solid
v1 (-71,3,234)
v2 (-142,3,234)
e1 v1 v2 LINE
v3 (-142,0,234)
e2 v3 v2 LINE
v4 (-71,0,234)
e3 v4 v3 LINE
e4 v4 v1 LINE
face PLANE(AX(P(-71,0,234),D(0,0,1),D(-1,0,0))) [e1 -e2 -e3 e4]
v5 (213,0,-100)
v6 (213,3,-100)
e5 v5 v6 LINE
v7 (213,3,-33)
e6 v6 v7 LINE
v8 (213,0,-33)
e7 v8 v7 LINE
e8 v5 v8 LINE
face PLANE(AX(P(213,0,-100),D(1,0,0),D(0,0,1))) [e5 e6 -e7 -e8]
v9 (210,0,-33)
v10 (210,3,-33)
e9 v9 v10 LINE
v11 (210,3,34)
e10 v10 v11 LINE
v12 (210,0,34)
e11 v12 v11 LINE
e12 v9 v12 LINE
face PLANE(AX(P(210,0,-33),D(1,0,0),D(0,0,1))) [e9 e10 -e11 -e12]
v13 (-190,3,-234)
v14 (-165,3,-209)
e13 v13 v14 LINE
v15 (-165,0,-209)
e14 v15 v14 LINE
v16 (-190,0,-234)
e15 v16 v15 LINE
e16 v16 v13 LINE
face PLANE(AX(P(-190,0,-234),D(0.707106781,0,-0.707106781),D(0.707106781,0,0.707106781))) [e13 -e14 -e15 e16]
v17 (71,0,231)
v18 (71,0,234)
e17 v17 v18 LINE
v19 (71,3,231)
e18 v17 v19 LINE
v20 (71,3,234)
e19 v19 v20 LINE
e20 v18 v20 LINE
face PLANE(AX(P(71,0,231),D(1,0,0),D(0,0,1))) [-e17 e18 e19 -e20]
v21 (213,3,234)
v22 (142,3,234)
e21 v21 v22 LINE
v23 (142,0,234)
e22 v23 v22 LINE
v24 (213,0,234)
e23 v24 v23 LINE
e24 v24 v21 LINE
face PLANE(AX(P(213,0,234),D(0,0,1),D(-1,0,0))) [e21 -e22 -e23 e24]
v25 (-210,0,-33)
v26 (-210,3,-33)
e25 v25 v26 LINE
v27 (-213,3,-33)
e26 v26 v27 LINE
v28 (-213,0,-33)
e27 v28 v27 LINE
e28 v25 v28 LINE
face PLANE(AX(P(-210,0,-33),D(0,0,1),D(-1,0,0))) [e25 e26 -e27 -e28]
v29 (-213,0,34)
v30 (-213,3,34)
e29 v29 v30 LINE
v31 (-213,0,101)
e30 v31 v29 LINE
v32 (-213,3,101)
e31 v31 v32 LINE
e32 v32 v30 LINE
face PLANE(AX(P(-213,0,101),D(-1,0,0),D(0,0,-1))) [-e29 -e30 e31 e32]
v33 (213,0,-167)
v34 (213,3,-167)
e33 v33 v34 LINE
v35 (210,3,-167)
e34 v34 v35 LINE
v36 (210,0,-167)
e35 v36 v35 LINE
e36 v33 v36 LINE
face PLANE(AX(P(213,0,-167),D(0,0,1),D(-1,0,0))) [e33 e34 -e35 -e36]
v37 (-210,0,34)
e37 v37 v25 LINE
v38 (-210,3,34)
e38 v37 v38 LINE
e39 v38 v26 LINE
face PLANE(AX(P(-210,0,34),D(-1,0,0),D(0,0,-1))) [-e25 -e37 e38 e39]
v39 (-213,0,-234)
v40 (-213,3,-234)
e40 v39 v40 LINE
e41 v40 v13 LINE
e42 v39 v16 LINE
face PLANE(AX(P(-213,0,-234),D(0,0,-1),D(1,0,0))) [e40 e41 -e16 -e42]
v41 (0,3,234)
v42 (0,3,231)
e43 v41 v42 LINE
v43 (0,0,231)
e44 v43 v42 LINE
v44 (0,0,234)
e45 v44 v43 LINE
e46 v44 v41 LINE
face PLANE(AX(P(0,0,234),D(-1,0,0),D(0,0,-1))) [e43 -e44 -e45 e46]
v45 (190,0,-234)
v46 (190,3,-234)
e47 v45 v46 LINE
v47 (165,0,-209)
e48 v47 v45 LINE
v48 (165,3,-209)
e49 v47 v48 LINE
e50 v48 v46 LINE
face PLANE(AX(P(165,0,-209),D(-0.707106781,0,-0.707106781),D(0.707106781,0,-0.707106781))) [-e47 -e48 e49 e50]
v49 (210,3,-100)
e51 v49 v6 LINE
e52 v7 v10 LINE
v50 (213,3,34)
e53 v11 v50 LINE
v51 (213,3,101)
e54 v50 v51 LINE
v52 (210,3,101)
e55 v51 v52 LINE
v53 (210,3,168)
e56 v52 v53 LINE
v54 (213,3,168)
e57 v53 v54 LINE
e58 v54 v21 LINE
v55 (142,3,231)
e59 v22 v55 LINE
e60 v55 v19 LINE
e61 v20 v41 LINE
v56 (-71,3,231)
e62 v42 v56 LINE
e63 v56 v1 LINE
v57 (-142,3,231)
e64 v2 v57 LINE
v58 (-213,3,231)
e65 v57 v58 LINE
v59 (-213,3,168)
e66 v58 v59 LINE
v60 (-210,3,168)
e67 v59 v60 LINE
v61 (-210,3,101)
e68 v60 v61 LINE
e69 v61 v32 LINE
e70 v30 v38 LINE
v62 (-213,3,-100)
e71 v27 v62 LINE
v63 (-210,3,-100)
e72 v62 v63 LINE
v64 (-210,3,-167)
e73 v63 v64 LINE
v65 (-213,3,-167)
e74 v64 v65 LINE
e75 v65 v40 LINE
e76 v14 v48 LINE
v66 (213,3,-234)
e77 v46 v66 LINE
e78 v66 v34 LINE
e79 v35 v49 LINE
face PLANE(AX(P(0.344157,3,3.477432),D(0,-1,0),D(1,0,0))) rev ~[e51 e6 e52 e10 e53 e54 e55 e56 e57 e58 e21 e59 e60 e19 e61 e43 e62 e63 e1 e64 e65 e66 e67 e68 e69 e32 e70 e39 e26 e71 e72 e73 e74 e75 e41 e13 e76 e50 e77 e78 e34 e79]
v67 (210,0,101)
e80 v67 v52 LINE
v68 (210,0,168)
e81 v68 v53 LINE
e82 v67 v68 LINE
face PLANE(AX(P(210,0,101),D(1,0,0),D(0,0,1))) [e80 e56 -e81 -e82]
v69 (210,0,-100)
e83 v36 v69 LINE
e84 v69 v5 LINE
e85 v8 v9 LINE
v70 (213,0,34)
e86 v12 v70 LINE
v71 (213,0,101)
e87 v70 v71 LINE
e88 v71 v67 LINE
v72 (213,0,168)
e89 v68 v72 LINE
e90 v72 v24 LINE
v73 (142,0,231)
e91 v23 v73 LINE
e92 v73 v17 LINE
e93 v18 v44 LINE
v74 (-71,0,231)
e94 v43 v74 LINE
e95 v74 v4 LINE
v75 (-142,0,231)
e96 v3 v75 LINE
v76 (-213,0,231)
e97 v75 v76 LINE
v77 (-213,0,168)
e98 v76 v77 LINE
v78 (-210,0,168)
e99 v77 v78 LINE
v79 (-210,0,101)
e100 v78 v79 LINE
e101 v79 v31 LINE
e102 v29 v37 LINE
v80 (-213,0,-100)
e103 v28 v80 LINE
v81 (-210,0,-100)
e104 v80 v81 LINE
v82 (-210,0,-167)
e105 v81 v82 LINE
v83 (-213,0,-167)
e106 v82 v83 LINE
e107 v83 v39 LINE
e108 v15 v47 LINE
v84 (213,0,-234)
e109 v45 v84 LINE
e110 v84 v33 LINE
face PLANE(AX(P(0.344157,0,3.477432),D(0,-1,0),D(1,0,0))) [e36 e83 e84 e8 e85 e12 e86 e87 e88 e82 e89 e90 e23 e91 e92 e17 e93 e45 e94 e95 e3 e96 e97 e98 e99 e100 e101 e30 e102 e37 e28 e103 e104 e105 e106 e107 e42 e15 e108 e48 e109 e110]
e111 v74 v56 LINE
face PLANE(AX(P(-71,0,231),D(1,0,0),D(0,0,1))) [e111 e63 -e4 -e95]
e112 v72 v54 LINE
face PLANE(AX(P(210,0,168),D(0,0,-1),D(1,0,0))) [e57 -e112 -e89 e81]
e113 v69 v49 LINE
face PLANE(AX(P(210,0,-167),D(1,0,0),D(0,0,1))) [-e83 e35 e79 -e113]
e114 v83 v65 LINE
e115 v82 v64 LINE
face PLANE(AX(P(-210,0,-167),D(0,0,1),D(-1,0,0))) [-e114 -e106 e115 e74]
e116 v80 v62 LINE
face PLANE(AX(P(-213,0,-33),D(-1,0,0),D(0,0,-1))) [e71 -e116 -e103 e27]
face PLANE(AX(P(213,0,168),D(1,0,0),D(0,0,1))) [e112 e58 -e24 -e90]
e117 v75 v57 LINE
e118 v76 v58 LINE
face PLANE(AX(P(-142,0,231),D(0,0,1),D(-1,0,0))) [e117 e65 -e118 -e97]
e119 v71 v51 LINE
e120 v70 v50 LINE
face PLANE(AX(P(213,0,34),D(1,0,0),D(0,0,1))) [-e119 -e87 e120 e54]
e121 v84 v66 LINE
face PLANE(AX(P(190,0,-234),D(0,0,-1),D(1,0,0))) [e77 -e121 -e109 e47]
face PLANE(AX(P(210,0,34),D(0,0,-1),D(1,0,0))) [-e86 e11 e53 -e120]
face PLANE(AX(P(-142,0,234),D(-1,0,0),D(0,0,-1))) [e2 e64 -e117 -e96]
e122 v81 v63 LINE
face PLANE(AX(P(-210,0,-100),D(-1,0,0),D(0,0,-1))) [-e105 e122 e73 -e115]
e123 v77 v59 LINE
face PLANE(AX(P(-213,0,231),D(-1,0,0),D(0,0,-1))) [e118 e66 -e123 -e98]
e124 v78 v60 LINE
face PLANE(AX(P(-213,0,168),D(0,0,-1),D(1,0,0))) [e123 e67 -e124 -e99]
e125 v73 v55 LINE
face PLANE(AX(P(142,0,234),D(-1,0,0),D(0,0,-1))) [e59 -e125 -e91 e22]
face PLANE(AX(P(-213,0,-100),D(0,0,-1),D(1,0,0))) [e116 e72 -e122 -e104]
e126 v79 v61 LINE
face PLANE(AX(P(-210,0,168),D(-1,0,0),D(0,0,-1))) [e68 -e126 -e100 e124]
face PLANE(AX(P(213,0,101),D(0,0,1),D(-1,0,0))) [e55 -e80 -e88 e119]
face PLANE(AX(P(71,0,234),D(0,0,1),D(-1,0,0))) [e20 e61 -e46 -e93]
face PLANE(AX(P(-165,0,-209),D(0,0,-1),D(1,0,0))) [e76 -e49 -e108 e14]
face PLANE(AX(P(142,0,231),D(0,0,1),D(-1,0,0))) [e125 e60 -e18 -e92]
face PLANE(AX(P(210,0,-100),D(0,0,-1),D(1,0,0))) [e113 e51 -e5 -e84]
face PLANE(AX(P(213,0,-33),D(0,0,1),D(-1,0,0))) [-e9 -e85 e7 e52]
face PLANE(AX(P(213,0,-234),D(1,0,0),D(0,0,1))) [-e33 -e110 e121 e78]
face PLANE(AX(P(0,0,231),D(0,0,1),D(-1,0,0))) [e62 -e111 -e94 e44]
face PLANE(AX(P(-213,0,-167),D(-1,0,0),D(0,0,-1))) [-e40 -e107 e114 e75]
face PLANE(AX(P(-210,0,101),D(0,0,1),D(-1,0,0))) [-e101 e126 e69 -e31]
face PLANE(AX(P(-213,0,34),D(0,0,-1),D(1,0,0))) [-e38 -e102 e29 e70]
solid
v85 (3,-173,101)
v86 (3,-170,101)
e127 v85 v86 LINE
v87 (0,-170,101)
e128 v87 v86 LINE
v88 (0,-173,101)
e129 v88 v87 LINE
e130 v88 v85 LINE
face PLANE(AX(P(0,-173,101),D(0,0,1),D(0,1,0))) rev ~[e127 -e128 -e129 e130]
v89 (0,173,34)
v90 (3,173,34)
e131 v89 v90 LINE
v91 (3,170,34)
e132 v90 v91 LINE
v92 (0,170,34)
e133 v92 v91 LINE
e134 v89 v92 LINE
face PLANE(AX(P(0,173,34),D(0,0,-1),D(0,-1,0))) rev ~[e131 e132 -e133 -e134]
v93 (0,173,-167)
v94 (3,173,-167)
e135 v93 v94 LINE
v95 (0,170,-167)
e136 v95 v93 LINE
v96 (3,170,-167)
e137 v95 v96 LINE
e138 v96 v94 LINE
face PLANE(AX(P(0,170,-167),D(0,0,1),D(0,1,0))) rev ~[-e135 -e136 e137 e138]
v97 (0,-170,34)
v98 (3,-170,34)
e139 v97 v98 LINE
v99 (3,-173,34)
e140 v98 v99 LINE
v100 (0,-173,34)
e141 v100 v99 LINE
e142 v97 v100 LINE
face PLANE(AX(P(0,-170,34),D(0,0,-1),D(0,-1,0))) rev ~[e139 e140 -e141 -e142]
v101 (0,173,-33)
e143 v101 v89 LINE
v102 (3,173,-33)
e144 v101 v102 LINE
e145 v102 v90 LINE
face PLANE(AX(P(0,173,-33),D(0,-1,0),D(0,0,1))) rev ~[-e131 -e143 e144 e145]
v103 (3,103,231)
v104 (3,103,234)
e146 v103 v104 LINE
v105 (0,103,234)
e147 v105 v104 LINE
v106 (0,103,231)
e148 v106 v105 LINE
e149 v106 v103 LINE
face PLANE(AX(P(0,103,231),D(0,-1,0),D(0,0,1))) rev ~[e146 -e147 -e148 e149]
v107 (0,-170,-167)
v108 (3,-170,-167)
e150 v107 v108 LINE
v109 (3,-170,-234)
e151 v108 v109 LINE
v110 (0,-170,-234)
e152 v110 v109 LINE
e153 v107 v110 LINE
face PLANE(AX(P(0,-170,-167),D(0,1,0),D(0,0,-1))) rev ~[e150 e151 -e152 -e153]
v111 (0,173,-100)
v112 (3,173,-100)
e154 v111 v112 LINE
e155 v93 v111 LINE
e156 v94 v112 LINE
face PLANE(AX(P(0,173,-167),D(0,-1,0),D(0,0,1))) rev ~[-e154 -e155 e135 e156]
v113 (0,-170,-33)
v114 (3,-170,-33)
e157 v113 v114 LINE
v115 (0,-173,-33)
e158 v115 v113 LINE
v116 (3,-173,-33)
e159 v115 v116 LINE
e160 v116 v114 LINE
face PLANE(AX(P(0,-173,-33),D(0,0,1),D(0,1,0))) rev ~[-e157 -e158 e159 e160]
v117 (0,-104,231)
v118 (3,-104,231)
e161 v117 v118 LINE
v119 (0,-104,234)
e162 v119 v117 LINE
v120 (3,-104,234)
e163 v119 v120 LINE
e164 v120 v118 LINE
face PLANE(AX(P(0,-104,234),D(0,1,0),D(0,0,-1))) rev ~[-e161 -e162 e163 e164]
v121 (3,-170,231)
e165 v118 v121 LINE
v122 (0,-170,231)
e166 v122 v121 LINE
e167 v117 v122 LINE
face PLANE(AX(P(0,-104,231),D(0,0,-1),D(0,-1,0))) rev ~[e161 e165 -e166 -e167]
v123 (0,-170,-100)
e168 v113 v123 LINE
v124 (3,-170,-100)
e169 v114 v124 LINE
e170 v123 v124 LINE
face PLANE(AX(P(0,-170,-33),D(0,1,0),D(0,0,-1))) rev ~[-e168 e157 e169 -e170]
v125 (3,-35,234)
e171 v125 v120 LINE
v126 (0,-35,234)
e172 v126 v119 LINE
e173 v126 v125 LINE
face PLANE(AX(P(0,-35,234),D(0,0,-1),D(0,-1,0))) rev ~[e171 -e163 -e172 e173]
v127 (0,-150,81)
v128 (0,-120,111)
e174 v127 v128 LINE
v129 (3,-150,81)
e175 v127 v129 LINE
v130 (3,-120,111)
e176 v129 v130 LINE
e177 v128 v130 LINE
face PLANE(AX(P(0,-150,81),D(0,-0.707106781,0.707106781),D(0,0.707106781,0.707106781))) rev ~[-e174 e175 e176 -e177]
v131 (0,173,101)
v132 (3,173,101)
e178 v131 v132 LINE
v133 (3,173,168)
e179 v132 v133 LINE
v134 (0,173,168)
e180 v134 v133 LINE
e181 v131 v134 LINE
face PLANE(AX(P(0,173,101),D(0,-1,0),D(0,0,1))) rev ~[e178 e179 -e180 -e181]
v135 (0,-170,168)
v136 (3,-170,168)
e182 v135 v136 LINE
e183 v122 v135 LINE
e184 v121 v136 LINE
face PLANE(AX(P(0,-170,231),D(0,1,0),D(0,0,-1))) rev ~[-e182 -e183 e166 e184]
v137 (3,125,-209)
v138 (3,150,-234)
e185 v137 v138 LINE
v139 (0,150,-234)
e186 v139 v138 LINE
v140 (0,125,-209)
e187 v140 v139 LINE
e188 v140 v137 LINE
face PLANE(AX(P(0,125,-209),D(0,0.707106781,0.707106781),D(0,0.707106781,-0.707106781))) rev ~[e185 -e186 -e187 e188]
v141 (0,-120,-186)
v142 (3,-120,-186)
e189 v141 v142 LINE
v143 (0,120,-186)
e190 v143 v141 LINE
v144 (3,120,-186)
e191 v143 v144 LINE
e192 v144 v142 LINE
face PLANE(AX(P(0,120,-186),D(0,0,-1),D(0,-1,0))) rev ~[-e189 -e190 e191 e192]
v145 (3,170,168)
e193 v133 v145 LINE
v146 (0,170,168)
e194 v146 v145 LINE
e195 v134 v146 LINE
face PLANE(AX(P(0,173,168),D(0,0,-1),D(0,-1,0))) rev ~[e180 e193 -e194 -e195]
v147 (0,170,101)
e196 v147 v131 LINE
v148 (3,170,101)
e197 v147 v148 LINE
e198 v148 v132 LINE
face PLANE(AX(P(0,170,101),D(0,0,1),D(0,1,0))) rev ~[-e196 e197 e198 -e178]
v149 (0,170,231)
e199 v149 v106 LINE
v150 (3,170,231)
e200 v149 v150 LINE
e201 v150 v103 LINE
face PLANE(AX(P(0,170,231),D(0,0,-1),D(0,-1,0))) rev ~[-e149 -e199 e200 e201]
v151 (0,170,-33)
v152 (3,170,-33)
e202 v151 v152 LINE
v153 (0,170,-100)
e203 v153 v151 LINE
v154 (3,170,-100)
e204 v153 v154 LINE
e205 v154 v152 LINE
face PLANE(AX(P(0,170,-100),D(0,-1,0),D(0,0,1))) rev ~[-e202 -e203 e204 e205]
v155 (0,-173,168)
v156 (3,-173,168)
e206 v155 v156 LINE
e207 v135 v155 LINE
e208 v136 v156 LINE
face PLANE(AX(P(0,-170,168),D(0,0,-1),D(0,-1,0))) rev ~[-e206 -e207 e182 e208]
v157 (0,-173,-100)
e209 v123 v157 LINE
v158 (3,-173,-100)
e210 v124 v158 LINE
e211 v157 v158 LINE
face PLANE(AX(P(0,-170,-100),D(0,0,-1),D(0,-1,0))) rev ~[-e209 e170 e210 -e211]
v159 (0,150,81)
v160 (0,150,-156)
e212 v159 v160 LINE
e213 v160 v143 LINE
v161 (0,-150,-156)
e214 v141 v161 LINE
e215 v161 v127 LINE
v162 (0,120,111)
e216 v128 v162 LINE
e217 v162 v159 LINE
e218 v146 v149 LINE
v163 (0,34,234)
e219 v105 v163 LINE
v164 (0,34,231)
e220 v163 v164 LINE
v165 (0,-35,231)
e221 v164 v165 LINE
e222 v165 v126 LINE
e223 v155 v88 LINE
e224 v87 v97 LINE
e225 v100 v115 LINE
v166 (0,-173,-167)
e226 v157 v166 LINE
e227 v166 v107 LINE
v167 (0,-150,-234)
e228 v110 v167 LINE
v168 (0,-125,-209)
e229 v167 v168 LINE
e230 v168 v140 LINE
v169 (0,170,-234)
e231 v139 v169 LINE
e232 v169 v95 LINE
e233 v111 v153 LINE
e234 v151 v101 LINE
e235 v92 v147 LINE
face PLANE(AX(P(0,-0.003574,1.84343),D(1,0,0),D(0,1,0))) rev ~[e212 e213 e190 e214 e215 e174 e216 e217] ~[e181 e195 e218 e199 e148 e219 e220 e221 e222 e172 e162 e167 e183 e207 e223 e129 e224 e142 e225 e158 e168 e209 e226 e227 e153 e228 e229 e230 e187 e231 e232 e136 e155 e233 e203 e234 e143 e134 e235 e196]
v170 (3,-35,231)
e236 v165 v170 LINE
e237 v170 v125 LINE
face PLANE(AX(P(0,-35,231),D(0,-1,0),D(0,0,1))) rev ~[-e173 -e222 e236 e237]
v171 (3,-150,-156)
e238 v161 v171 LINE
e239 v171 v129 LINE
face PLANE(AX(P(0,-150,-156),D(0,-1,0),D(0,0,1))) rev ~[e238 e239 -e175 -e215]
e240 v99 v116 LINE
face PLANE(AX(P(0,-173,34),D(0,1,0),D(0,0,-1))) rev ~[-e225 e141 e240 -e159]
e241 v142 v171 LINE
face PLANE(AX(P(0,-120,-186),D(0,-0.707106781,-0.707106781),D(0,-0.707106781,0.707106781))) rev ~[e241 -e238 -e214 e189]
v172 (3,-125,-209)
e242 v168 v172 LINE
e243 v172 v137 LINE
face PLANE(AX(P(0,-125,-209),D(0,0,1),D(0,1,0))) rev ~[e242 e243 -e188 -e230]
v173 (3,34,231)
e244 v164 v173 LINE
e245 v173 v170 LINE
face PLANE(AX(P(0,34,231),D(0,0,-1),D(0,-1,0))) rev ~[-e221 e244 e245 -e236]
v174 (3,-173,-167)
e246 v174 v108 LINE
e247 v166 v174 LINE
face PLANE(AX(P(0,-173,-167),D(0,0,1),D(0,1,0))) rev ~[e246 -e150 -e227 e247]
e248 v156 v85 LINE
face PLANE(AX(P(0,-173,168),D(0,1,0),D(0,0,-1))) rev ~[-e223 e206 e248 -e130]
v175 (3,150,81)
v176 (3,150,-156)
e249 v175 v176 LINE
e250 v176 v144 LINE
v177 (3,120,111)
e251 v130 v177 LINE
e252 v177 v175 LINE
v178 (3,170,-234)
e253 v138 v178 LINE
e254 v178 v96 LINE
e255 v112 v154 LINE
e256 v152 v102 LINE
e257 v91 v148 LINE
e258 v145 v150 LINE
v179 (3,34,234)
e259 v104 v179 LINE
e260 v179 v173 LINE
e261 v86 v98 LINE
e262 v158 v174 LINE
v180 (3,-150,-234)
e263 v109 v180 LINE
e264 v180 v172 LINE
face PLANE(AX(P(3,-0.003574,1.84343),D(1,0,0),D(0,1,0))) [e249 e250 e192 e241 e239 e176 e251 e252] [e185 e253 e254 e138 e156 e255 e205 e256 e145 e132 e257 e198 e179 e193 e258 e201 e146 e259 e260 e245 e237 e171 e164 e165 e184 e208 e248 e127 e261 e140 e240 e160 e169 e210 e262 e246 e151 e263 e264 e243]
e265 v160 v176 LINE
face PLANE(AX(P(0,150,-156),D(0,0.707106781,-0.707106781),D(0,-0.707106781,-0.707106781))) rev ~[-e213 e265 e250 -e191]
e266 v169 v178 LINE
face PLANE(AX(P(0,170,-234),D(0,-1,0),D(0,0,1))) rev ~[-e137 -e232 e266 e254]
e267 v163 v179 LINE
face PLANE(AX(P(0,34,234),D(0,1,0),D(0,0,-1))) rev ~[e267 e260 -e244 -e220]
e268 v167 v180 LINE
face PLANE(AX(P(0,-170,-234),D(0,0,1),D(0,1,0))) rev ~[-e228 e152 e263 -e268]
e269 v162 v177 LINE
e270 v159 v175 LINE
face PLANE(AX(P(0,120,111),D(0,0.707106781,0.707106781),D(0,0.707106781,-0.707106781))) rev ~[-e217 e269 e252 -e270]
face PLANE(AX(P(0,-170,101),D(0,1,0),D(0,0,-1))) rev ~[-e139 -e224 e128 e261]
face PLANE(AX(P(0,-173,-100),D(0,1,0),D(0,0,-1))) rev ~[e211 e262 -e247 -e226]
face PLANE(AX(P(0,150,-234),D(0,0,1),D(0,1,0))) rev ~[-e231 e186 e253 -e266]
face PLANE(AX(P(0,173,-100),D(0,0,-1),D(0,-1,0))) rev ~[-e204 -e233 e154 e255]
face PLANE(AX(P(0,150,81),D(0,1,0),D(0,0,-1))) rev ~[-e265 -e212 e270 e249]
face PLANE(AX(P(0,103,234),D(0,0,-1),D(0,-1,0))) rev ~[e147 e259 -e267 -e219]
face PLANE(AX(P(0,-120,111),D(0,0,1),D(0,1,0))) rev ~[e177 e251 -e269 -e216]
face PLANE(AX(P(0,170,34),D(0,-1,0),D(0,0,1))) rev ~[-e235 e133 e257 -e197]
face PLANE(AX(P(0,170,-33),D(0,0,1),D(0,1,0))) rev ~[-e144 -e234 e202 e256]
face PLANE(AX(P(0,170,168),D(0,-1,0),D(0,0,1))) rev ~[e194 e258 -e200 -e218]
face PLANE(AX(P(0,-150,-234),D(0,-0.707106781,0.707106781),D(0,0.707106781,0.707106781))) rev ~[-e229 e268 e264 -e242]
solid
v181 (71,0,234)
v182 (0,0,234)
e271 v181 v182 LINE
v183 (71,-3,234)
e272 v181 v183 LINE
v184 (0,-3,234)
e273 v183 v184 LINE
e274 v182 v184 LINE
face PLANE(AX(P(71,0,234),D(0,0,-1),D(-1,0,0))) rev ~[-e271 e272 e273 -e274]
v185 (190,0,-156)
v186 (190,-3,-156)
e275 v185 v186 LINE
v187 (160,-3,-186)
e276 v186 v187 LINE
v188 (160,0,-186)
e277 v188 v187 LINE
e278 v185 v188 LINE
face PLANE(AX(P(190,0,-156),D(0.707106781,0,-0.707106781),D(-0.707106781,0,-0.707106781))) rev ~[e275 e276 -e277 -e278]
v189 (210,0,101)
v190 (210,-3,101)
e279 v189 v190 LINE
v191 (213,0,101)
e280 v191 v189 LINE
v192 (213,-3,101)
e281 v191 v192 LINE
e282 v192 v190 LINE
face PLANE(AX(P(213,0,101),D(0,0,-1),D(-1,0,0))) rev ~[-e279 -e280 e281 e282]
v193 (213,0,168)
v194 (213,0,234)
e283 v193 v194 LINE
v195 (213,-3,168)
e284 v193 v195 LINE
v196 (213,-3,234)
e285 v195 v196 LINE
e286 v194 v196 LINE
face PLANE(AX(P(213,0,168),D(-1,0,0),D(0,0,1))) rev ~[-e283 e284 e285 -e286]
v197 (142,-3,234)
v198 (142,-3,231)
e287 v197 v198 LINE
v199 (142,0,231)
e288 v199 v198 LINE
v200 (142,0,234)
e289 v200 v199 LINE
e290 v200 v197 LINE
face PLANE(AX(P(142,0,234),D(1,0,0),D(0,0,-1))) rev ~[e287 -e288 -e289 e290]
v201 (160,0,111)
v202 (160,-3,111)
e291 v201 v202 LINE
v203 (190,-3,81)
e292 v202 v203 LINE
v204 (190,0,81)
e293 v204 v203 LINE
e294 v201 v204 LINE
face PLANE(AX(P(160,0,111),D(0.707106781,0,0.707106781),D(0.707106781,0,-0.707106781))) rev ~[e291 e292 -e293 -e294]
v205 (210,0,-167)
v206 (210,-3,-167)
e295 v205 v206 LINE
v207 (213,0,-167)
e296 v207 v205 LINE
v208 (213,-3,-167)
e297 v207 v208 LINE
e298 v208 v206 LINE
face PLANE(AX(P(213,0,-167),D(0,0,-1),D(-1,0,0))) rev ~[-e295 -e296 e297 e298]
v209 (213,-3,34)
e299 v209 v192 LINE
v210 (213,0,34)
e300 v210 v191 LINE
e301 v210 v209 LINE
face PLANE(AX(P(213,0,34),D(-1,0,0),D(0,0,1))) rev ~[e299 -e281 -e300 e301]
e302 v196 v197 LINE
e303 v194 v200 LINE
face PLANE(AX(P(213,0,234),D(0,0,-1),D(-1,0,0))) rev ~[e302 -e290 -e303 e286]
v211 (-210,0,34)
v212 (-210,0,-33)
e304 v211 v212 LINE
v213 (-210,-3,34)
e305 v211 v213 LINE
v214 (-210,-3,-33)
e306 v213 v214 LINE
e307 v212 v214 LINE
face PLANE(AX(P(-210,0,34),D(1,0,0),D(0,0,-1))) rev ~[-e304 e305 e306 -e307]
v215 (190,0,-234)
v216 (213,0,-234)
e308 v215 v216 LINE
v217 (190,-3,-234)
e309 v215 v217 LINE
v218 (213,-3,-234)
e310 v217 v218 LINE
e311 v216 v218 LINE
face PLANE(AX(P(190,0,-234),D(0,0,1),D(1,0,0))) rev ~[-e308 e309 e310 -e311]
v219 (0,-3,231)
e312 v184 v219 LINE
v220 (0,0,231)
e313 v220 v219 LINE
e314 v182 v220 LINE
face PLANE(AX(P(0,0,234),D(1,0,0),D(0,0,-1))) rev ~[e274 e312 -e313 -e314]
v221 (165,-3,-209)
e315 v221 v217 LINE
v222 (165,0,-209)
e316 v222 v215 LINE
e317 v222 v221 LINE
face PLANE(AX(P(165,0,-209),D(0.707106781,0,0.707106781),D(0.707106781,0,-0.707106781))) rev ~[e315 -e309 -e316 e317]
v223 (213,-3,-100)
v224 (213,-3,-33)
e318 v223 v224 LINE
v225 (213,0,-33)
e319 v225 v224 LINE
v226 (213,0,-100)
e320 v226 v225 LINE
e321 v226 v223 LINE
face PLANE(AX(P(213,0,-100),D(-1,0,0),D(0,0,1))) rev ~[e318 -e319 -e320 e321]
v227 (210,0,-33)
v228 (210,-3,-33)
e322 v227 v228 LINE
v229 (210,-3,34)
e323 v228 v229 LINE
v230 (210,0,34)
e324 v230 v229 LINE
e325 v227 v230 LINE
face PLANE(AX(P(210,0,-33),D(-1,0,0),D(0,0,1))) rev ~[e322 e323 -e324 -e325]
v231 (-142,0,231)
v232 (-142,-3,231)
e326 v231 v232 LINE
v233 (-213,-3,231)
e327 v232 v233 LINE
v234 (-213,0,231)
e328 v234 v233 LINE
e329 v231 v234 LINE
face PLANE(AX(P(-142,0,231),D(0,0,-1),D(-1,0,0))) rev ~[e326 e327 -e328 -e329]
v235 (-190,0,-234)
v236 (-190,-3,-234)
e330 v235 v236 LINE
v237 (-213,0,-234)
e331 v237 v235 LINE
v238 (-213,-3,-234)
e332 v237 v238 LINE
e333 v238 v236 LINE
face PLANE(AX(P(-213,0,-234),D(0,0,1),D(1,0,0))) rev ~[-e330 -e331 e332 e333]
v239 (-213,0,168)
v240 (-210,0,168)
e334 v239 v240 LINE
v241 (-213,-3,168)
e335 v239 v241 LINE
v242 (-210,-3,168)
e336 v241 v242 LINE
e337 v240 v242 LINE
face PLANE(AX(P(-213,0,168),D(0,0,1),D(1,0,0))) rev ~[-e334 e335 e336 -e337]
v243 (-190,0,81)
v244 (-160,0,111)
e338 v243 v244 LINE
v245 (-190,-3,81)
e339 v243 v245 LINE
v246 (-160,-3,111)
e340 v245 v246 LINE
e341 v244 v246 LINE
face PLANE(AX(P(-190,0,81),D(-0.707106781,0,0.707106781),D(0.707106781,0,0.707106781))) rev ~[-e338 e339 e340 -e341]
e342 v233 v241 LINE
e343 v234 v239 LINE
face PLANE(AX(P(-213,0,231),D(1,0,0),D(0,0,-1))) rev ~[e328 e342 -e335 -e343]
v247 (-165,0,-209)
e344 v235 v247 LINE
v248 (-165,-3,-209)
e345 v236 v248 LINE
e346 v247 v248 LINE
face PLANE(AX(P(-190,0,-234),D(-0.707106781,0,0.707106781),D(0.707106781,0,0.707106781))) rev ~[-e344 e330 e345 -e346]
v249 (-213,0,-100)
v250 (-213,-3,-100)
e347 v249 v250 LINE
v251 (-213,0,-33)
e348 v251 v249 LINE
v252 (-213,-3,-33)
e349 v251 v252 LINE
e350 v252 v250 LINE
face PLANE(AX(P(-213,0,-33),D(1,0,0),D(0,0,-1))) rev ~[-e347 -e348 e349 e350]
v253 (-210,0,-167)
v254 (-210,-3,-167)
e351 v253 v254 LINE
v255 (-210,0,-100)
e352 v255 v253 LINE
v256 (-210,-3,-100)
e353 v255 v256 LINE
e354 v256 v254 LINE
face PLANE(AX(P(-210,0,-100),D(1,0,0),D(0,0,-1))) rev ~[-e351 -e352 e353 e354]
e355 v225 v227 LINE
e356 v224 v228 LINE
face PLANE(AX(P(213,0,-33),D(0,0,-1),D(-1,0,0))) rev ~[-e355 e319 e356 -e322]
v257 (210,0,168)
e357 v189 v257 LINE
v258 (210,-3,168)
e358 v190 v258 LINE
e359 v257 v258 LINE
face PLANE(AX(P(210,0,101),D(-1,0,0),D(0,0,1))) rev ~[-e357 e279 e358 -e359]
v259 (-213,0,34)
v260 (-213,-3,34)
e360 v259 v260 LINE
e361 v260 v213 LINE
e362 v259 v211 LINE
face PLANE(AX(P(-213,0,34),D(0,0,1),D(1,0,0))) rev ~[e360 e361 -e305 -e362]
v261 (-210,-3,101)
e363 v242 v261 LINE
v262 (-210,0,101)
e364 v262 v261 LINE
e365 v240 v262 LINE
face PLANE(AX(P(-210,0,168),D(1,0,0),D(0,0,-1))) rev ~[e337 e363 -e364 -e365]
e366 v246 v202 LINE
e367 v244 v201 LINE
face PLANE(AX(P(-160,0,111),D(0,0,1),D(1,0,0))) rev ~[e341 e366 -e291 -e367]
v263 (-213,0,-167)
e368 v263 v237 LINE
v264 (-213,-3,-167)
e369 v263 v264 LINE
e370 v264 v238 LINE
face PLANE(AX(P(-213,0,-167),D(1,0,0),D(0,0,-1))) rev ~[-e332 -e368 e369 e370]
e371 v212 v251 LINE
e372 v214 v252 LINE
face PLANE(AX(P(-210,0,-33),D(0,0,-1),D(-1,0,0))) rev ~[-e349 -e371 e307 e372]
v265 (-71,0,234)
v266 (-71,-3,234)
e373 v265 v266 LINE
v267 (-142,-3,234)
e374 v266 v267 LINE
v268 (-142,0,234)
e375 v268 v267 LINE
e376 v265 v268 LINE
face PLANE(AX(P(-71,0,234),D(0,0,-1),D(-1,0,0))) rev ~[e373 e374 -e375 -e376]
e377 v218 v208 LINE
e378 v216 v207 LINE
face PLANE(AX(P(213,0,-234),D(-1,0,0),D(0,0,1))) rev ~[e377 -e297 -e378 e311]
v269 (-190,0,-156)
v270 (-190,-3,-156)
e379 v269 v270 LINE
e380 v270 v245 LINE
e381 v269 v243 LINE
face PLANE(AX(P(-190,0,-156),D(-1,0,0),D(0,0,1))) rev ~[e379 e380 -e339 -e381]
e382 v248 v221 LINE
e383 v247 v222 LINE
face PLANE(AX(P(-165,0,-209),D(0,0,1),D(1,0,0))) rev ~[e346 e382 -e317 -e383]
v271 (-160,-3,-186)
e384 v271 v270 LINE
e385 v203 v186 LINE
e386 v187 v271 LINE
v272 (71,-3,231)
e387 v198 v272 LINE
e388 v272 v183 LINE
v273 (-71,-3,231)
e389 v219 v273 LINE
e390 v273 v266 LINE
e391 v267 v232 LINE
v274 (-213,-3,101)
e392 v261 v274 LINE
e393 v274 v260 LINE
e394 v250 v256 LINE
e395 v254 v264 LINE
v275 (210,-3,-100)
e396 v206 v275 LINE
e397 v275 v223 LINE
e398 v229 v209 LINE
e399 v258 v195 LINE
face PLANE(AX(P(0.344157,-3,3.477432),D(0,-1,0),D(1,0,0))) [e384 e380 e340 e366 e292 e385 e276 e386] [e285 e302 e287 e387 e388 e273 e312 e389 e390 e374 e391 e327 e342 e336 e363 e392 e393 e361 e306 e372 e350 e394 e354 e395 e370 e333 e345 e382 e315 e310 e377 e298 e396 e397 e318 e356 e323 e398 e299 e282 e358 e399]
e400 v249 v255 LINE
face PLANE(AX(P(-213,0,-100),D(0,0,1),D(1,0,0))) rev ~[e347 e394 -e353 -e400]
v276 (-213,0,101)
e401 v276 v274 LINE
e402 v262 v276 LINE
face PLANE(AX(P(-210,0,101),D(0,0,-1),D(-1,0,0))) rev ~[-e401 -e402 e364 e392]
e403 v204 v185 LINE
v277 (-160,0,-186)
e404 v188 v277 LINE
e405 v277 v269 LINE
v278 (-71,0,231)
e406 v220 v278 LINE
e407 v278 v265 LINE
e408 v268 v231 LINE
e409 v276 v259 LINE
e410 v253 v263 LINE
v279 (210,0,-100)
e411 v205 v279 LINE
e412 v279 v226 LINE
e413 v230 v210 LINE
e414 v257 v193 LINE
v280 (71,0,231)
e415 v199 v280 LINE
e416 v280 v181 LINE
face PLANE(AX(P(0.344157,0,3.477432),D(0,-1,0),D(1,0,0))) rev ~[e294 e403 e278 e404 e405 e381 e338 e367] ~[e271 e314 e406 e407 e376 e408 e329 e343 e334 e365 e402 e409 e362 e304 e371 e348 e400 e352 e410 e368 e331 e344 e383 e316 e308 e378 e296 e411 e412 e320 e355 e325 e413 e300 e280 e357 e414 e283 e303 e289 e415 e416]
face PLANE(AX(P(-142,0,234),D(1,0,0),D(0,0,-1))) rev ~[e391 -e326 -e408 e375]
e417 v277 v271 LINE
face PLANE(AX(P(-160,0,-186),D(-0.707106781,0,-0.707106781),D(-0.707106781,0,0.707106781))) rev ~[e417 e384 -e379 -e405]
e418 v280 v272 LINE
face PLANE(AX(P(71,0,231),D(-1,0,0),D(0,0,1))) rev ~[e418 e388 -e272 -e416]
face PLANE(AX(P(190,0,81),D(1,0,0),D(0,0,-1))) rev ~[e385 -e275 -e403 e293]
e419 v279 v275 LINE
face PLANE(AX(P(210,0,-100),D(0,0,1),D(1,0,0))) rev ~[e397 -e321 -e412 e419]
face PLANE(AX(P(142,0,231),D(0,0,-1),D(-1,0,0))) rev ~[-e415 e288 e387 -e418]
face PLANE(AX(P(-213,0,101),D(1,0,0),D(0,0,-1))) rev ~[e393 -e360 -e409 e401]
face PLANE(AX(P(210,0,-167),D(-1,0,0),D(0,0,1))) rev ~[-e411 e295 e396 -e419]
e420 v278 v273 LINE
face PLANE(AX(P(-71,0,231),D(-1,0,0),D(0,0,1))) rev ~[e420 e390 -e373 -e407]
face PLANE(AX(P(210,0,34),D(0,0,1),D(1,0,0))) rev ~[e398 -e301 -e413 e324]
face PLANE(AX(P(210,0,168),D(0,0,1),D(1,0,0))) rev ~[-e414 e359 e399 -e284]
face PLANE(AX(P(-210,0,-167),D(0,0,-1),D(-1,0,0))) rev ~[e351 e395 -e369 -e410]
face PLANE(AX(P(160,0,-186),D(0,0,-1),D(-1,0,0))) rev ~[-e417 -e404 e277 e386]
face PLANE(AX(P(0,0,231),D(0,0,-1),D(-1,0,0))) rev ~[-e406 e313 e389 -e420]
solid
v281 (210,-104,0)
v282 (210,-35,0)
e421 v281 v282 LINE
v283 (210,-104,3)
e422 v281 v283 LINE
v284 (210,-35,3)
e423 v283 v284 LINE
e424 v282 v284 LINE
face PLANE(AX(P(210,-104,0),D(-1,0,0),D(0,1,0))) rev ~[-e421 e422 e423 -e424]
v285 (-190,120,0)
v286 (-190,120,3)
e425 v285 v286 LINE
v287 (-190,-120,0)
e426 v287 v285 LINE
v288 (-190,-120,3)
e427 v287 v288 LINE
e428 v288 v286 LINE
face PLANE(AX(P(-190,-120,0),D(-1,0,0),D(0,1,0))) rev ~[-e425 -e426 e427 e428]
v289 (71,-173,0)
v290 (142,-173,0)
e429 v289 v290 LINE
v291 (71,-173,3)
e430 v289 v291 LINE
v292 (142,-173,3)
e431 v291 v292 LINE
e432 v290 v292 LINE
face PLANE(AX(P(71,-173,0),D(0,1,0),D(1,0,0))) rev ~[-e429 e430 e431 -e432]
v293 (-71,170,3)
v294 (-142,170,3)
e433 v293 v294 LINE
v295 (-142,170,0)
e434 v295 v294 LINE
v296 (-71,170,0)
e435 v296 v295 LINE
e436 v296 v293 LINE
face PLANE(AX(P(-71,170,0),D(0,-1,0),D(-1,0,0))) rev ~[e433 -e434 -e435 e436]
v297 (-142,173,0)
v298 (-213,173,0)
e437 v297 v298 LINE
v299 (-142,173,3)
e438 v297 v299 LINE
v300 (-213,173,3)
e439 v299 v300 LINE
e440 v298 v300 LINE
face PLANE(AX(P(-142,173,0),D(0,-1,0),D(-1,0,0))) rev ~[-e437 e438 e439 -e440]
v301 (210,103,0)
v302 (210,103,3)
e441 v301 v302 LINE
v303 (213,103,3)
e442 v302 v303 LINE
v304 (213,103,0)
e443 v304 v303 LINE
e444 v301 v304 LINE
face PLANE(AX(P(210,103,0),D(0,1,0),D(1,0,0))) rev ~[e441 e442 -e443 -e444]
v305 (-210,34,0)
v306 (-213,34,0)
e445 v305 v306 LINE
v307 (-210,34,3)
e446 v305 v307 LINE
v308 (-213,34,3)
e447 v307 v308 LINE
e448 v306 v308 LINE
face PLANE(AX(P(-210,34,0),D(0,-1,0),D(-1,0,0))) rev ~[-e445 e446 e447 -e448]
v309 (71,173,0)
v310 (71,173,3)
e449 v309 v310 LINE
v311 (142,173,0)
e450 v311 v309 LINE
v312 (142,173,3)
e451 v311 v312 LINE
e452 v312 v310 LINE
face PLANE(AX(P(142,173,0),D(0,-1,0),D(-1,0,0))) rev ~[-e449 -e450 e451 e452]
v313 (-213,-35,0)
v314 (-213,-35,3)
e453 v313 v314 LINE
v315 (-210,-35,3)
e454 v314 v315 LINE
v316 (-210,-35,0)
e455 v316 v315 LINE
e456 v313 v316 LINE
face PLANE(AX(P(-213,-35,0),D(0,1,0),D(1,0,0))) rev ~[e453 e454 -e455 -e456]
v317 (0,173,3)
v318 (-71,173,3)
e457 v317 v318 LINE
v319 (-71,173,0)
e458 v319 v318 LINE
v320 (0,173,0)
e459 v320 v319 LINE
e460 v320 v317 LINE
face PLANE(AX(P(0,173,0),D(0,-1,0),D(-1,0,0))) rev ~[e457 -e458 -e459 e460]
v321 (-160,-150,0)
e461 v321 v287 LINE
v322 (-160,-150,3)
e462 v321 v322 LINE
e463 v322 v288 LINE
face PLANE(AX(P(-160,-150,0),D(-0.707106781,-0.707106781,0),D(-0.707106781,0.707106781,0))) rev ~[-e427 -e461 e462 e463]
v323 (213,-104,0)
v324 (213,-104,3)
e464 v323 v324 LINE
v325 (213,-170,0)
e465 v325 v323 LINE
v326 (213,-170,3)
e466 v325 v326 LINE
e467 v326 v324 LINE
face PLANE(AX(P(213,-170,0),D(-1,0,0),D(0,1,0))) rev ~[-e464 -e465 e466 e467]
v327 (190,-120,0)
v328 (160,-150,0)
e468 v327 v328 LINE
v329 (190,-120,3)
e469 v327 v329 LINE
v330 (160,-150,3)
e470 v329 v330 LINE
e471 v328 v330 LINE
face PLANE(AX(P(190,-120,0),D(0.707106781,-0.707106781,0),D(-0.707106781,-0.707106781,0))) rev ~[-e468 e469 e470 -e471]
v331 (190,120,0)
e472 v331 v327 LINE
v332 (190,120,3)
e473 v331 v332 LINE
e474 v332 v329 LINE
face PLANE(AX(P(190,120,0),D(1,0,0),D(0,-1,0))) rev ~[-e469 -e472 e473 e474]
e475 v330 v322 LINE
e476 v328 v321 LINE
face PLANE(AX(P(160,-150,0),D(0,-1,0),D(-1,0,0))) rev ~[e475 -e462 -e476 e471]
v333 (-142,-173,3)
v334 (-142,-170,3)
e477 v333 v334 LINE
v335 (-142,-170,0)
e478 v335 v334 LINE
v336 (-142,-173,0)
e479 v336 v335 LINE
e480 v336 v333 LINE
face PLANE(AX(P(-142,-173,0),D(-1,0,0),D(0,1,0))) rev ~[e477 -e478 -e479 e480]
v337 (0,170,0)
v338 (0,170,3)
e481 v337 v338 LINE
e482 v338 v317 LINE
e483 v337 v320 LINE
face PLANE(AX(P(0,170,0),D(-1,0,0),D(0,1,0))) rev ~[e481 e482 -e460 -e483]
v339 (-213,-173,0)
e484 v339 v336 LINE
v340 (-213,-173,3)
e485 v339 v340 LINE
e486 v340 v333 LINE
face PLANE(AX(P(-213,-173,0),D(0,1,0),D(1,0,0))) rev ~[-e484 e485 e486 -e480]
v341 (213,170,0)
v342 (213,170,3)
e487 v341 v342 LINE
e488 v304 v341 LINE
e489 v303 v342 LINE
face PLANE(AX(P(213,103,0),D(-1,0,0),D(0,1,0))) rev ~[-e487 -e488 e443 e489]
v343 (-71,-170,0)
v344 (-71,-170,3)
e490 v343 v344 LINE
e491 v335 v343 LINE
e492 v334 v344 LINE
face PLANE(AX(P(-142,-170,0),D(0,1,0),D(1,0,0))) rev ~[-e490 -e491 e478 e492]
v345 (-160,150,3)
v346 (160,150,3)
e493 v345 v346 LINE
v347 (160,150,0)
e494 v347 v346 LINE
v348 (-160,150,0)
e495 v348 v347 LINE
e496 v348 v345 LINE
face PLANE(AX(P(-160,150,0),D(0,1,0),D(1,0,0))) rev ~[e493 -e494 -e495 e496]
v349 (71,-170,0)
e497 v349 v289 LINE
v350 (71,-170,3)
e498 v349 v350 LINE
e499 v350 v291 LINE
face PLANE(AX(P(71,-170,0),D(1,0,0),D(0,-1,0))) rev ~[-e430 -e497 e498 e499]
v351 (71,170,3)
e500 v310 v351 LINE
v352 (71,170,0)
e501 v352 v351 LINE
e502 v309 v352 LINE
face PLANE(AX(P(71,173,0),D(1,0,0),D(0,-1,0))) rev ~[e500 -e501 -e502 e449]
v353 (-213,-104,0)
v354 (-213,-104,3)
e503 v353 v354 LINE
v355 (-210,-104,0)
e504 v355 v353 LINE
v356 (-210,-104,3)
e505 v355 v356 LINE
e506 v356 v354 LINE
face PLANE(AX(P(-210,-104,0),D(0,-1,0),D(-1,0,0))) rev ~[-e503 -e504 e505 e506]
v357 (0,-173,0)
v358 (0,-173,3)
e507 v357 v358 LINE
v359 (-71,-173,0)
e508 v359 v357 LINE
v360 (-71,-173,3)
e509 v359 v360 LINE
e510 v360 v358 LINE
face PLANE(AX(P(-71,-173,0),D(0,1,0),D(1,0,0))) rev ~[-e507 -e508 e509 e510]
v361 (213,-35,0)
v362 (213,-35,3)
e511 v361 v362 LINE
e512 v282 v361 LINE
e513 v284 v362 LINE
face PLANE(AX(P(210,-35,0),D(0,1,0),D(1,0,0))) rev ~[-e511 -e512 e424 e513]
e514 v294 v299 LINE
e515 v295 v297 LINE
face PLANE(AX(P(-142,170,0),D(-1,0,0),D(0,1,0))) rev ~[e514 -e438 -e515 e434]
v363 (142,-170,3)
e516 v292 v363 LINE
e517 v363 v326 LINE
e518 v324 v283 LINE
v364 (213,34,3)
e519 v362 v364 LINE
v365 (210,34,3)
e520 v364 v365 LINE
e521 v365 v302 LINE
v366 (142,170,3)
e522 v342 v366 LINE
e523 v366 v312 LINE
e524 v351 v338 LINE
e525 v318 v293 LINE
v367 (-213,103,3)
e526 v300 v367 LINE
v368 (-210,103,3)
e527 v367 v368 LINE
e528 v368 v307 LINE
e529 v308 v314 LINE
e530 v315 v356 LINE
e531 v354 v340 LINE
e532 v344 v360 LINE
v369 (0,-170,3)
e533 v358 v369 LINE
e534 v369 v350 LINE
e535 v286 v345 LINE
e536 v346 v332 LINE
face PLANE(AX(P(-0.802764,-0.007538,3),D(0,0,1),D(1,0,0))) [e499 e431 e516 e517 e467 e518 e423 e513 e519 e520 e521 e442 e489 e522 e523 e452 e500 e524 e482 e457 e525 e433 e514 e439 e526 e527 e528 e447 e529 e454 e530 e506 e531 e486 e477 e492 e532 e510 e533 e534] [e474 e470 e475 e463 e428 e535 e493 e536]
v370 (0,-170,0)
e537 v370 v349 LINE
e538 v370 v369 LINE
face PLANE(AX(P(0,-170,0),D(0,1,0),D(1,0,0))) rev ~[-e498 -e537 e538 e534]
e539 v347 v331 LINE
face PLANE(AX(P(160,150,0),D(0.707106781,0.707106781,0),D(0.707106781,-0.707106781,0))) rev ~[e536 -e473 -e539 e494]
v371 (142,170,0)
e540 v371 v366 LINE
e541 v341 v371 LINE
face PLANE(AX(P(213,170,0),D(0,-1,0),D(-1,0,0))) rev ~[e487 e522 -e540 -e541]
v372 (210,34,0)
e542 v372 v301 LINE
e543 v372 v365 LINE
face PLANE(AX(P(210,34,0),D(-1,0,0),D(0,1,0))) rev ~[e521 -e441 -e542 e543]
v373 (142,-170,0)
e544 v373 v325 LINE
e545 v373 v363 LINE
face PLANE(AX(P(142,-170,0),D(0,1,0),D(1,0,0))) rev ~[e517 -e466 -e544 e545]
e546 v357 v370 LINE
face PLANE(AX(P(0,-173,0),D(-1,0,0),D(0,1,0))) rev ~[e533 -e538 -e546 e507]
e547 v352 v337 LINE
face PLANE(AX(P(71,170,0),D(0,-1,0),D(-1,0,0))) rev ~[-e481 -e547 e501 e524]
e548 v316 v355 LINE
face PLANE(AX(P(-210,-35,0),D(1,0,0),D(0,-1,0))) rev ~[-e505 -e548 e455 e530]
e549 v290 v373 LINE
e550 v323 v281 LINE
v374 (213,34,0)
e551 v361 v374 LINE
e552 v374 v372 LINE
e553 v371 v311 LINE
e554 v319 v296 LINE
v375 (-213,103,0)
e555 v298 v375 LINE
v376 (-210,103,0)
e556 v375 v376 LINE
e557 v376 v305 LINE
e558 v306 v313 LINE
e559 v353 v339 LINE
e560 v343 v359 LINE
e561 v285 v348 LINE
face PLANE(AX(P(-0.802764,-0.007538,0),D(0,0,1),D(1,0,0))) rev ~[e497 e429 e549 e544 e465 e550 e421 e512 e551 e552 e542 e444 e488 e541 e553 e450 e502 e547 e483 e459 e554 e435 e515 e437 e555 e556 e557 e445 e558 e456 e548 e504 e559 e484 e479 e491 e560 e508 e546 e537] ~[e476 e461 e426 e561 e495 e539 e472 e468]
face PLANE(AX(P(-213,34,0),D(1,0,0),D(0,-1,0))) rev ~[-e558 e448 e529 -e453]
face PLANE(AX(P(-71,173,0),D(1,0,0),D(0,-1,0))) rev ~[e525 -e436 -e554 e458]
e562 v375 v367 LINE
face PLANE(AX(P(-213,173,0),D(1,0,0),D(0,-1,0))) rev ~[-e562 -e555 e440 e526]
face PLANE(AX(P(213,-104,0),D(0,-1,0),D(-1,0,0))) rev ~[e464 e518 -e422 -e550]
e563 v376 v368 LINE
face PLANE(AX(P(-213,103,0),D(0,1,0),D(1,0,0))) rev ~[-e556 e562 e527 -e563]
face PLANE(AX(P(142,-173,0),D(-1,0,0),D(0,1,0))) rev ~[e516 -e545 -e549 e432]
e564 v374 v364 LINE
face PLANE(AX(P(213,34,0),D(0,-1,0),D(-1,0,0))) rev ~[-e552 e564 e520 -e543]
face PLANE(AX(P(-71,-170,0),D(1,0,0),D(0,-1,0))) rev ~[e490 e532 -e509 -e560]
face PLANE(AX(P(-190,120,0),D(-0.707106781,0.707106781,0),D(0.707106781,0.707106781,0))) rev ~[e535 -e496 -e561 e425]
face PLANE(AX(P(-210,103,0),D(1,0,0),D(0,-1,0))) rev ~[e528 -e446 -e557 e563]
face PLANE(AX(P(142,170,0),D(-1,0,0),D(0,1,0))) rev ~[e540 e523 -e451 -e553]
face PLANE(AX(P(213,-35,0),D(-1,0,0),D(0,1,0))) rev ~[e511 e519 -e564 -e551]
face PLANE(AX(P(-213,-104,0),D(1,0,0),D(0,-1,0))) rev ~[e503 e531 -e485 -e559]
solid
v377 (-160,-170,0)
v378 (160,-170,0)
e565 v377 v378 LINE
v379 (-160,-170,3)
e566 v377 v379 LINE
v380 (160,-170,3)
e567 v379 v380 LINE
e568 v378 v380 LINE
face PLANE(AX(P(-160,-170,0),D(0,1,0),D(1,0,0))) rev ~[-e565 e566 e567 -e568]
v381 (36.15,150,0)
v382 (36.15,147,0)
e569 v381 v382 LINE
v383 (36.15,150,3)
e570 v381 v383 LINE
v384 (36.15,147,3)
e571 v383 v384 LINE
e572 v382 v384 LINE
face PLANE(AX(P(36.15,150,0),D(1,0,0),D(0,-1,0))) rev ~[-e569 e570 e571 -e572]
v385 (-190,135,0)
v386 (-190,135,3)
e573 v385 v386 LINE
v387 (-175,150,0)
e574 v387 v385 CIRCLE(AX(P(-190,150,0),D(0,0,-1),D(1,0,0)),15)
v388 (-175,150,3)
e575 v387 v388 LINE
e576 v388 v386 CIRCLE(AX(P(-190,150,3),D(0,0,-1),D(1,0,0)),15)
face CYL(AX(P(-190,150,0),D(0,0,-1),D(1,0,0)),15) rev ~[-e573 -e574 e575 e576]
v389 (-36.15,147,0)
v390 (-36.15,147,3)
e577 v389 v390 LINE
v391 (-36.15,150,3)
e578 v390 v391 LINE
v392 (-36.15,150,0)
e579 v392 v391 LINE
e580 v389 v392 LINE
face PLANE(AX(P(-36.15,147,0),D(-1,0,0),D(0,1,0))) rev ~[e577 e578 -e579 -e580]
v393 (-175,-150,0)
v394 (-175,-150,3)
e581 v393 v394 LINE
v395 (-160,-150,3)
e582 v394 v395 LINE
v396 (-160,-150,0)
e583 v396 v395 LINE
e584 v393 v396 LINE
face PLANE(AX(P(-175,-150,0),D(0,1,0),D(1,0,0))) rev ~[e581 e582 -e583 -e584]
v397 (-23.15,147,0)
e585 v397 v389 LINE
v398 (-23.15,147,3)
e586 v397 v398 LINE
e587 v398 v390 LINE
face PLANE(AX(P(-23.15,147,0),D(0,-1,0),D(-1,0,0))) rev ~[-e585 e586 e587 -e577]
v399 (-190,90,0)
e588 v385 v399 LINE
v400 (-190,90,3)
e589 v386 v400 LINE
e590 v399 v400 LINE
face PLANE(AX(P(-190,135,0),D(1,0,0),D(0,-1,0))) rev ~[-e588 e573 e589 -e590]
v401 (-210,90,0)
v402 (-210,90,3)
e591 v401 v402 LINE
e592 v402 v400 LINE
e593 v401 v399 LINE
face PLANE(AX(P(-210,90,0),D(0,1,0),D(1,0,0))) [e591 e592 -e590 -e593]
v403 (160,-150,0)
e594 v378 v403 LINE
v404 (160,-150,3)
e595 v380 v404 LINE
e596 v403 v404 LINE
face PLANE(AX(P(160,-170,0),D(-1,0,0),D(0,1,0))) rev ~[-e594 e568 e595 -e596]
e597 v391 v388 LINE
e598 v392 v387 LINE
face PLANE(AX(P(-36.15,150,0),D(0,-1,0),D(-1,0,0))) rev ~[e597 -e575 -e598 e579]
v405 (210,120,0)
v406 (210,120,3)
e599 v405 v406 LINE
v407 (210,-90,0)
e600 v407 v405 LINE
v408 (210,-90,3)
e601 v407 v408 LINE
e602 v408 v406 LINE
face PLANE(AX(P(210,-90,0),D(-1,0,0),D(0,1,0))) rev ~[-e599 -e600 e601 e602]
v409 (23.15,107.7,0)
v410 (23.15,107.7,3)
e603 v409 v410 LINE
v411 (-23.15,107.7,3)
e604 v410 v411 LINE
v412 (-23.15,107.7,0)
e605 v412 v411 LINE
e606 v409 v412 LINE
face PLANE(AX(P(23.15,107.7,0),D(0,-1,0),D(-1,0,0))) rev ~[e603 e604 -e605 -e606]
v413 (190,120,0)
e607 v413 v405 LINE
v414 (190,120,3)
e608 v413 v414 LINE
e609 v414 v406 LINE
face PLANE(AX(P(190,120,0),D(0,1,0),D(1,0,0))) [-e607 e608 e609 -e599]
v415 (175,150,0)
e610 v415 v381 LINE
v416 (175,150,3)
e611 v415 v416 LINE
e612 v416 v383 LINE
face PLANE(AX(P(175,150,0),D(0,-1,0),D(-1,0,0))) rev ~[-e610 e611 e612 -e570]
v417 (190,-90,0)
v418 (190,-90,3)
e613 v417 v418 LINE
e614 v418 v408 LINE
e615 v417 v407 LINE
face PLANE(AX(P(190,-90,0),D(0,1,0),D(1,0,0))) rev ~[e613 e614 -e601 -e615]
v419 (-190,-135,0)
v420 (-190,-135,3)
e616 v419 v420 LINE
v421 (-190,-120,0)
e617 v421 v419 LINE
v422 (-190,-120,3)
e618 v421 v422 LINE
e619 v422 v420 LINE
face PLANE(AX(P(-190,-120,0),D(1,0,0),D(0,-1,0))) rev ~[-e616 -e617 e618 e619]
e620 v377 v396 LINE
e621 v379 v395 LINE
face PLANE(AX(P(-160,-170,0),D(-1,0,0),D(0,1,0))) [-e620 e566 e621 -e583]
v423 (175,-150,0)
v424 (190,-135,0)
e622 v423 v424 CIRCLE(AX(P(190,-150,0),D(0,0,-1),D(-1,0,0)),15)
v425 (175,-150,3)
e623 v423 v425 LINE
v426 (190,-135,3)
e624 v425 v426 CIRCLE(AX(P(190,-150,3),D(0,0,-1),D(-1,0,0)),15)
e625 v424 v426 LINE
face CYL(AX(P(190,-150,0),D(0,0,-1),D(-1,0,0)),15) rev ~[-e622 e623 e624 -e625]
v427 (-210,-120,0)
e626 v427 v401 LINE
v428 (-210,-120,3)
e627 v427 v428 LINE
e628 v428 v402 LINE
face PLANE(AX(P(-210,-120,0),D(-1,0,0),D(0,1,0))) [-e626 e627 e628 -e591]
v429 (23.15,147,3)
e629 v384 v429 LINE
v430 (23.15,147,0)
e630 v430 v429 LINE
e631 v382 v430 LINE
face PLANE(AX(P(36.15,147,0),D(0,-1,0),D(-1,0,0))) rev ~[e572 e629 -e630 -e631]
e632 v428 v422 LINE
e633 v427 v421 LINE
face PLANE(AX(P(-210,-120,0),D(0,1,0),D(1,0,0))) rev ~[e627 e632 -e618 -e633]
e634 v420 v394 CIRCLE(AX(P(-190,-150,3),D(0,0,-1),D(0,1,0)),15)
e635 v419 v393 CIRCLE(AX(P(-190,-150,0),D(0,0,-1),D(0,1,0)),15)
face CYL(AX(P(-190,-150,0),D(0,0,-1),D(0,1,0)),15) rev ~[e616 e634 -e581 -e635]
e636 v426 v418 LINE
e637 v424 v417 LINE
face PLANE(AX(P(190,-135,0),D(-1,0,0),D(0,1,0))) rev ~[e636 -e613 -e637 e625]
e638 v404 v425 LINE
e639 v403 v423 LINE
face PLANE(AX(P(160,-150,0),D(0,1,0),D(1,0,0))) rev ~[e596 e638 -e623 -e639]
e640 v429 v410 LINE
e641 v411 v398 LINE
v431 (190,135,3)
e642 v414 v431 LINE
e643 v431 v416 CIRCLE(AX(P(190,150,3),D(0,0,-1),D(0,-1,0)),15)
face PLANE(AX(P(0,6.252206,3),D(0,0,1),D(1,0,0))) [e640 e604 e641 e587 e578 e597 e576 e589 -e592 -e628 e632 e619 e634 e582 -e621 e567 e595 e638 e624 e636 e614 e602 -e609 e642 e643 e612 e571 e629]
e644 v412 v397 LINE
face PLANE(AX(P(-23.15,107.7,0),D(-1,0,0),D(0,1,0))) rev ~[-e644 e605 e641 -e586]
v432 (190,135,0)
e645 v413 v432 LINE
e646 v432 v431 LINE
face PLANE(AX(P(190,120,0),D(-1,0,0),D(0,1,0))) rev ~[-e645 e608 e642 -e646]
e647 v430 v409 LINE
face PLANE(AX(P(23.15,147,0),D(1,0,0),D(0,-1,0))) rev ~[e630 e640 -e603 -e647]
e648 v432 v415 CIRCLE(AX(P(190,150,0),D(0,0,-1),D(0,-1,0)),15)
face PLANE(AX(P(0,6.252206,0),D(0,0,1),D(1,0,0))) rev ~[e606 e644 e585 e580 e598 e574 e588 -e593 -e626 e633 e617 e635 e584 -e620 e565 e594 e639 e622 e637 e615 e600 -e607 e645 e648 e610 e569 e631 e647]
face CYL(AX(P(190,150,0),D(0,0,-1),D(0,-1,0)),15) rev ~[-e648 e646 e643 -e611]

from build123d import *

# Parameters (mm, degrees)
F2_DEPTH  = 3
F4_DEPTH  = 3
F6_DEPTH  = 3
F8_DEPTH  = 3
F9_W      = 20
F9_H      = 210
F9_W_2    = 320
F9_H_2    = 20
F10_DEPTH = 3


with BuildPart() as f2:
    # F1 (on Top) → F2 (new body)
    with BuildSketch(Plane.XY):
        Polygon((71, -173), (142, -173), (142, -170), (213, -170), (213, -104), (210, -104), (210, -35), (213, -35), (213, 34), (210, 34), (210, 103), (213, 103), (213, 170), (142, 170), (142, 173), (71, 173), (71, 170), (0, 170), (0, 173), (-71, 173), (-71, 170), (-142, 170), (-142, 173), (-213, 173), (-213, 103), (-210, 103), (-210, 34), (-213, 34), (-213, -35), (-210, -35), (-210, -104), (-213, -104), (-213, -173), (-142, -173), (-142, -170), (-71, -170), (-71, -173), (0, -173), (0, -170), (71, -170), align=None)
        Polygon((-190, 120), (-160, 150), (160, 150), (190, 120), (190, -120), (160, -150), (-160, -150), (-190, -120), align=None, mode=Mode.SUBTRACT)
    extrude(amount=F2_DEPTH)


with BuildPart() as f4:
    # F3 (on Front) → F4 (new body)
    with BuildSketch(Plane.XZ):
        Polygon((190, -234), (213, -234), (213, -167), (210, -167), (210, -100), (213, -100), (213, -33), (210, -33), (210, 34), (213, 34), (213, 101), (210, 101), (210, 168), (213, 168), (213, 234), (142, 234), (142, 231), (71, 231), (71, 234), (0, 234), (0, 231), (-71, 231), (-71, 234), (-142, 234), (-142, 231), (-213, 231), (-213, 168), (-210, 168), (-210, 101), (-213, 101), (-213, 34), (-210, 34), (-210, -33), (-213, -33), (-213, -100), (-210, -100), (-210, -167), (-213, -167), (-213, -234), (-190, -234), (-165, -209), (165, -209), align=None)
        Polygon((-190, 81), (-160, 111), (160, 111), (190, 81), (190, -156), (160, -186), (-160, -186), (-190, -156), align=None, mode=Mode.SUBTRACT)
    extrude(amount=F4_DEPTH)


with BuildPart() as f6:
    # F3 (on Front) → F6 (new body)
    with BuildSketch(Plane.XZ):
        Polygon((190, -234), (213, -234), (213, -167), (210, -167), (210, -100), (213, -100), (213, -33), (210, -33), (210, 34), (213, 34), (213, 101), (210, 101), (210, 168), (213, 168), (213, 234), (142, 234), (142, 231), (71, 231), (71, 234), (0, 234), (0, 231), (-71, 231), (-71, 234), (-142, 234), (-142, 231), (-213, 231), (-213, 168), (-210, 168), (-210, 101), (-213, 101), (-213, 34), (-210, 34), (-210, -33), (-213, -33), (-213, -100), (-210, -100), (-210, -167), (-213, -167), (-213, -234), (-190, -234), (-165, -209), (165, -209), align=None)
        Polygon((-190, 81), (-160, 111), (160, 111), (190, 81), (190, -156), (160, -186), (-160, -186), (-190, -156), align=None, mode=Mode.SUBTRACT)
        Polygon((160, 111), (-160, 111), (-190, 81), (-190, -156), (-160, -186), (160, -186), (190, -156), (190, 81), align=None)
    extrude(amount=-F6_DEPTH)


with BuildPart() as f8:
    # F7 (on Right) → F8 (new body)
    with BuildSketch(Plane.YZ):
        Polygon((-35, 234), (-104, 234), (-104, 231), (-170, 231), (-170, 168), (-173, 168), (-173, 101), (-170, 101), (-170, 34), (-173, 34), (-173, -33), (-170, -33), (-170, -100), (-173, -100), (-173, -167), (-170, -167), (-170, -234), (-150, -234), (-125, -209), (125, -209), (150, -234), (170, -234), (170, -167), (173, -167), (173, -100), (170, -100), (170, -33), (173, -33), (173, 34), (170, 34), (170, 101), (173, 101), (173, 168), (170, 168), (170, 231), (103, 231), (103, 234), (34, 234), (34, 231), (-35, 231), align=None)
        Polygon((-120, 111), (120, 111), (150, 81), (150, -156), (120, -186), (-120, -186), (-150, -156), (-150, 81), align=None, mode=Mode.SUBTRACT)
    extrude(amount=F8_DEPTH)


with BuildPart() as f10:
    # F9 (on Top) → F10 (new body)
    with BuildSketch(Plane.XY):
        with BuildLine():
            Line((160, -150), (175, -150))
            ThreePointArc((175, -150), (179.3933982822, -139.3933982822), (190, -135))
            Line((190, -135), (190, -90))
            Line((190, -90), (190, 120))
            Line((190, 120), (190, 135))
            ThreePointArc((190, 135), (179.3933982822, 139.3933982822), (175, 150))
            Line((175, 150), (36.15, 150))
            Line((36.15, 150), (36.15, 147))
            Line((36.15, 147), (23.15, 147))
            Line((23.15, 147), (23.15, 107.7))
            Line((23.15, 107.7), (-23.15, 107.7))
            Line((-23.15, 107.7), (-23.15, 147))
            Line((-23.15, 147), (-36.15, 147))
            Line((-36.15, 147), (-36.15, 150))
            Line((-36.15, 150), (-175, 150))
            ThreePointArc((-175, 150), (-179.3933982822, 139.3933982822), (-190, 135))
            Line((-190, 135), (-190, 90))
            Line((-190, 90), (-190, -120))
            Line((-190, -120), (-190, -135))
            ThreePointArc((-190, -135), (-179.3933982822, -139.3933982822), (-175, -150))
            Line((-175, -150), (-160, -150))
            Line((-160, -150), (160, -150))
        make_face()
        with Locations((-200, -15)):
            Rectangle(F9_W, F9_H)
        with Locations((200, 15)):
            Rectangle(F9_W, F9_H)
        with Locations((0, -160)):
            Rectangle(F9_W_2, F9_H_2)
    extrude(amount=F10_DEPTH)


solid = Compound([f2.part, f4.part, f6.part, f8.part, f10.part])
